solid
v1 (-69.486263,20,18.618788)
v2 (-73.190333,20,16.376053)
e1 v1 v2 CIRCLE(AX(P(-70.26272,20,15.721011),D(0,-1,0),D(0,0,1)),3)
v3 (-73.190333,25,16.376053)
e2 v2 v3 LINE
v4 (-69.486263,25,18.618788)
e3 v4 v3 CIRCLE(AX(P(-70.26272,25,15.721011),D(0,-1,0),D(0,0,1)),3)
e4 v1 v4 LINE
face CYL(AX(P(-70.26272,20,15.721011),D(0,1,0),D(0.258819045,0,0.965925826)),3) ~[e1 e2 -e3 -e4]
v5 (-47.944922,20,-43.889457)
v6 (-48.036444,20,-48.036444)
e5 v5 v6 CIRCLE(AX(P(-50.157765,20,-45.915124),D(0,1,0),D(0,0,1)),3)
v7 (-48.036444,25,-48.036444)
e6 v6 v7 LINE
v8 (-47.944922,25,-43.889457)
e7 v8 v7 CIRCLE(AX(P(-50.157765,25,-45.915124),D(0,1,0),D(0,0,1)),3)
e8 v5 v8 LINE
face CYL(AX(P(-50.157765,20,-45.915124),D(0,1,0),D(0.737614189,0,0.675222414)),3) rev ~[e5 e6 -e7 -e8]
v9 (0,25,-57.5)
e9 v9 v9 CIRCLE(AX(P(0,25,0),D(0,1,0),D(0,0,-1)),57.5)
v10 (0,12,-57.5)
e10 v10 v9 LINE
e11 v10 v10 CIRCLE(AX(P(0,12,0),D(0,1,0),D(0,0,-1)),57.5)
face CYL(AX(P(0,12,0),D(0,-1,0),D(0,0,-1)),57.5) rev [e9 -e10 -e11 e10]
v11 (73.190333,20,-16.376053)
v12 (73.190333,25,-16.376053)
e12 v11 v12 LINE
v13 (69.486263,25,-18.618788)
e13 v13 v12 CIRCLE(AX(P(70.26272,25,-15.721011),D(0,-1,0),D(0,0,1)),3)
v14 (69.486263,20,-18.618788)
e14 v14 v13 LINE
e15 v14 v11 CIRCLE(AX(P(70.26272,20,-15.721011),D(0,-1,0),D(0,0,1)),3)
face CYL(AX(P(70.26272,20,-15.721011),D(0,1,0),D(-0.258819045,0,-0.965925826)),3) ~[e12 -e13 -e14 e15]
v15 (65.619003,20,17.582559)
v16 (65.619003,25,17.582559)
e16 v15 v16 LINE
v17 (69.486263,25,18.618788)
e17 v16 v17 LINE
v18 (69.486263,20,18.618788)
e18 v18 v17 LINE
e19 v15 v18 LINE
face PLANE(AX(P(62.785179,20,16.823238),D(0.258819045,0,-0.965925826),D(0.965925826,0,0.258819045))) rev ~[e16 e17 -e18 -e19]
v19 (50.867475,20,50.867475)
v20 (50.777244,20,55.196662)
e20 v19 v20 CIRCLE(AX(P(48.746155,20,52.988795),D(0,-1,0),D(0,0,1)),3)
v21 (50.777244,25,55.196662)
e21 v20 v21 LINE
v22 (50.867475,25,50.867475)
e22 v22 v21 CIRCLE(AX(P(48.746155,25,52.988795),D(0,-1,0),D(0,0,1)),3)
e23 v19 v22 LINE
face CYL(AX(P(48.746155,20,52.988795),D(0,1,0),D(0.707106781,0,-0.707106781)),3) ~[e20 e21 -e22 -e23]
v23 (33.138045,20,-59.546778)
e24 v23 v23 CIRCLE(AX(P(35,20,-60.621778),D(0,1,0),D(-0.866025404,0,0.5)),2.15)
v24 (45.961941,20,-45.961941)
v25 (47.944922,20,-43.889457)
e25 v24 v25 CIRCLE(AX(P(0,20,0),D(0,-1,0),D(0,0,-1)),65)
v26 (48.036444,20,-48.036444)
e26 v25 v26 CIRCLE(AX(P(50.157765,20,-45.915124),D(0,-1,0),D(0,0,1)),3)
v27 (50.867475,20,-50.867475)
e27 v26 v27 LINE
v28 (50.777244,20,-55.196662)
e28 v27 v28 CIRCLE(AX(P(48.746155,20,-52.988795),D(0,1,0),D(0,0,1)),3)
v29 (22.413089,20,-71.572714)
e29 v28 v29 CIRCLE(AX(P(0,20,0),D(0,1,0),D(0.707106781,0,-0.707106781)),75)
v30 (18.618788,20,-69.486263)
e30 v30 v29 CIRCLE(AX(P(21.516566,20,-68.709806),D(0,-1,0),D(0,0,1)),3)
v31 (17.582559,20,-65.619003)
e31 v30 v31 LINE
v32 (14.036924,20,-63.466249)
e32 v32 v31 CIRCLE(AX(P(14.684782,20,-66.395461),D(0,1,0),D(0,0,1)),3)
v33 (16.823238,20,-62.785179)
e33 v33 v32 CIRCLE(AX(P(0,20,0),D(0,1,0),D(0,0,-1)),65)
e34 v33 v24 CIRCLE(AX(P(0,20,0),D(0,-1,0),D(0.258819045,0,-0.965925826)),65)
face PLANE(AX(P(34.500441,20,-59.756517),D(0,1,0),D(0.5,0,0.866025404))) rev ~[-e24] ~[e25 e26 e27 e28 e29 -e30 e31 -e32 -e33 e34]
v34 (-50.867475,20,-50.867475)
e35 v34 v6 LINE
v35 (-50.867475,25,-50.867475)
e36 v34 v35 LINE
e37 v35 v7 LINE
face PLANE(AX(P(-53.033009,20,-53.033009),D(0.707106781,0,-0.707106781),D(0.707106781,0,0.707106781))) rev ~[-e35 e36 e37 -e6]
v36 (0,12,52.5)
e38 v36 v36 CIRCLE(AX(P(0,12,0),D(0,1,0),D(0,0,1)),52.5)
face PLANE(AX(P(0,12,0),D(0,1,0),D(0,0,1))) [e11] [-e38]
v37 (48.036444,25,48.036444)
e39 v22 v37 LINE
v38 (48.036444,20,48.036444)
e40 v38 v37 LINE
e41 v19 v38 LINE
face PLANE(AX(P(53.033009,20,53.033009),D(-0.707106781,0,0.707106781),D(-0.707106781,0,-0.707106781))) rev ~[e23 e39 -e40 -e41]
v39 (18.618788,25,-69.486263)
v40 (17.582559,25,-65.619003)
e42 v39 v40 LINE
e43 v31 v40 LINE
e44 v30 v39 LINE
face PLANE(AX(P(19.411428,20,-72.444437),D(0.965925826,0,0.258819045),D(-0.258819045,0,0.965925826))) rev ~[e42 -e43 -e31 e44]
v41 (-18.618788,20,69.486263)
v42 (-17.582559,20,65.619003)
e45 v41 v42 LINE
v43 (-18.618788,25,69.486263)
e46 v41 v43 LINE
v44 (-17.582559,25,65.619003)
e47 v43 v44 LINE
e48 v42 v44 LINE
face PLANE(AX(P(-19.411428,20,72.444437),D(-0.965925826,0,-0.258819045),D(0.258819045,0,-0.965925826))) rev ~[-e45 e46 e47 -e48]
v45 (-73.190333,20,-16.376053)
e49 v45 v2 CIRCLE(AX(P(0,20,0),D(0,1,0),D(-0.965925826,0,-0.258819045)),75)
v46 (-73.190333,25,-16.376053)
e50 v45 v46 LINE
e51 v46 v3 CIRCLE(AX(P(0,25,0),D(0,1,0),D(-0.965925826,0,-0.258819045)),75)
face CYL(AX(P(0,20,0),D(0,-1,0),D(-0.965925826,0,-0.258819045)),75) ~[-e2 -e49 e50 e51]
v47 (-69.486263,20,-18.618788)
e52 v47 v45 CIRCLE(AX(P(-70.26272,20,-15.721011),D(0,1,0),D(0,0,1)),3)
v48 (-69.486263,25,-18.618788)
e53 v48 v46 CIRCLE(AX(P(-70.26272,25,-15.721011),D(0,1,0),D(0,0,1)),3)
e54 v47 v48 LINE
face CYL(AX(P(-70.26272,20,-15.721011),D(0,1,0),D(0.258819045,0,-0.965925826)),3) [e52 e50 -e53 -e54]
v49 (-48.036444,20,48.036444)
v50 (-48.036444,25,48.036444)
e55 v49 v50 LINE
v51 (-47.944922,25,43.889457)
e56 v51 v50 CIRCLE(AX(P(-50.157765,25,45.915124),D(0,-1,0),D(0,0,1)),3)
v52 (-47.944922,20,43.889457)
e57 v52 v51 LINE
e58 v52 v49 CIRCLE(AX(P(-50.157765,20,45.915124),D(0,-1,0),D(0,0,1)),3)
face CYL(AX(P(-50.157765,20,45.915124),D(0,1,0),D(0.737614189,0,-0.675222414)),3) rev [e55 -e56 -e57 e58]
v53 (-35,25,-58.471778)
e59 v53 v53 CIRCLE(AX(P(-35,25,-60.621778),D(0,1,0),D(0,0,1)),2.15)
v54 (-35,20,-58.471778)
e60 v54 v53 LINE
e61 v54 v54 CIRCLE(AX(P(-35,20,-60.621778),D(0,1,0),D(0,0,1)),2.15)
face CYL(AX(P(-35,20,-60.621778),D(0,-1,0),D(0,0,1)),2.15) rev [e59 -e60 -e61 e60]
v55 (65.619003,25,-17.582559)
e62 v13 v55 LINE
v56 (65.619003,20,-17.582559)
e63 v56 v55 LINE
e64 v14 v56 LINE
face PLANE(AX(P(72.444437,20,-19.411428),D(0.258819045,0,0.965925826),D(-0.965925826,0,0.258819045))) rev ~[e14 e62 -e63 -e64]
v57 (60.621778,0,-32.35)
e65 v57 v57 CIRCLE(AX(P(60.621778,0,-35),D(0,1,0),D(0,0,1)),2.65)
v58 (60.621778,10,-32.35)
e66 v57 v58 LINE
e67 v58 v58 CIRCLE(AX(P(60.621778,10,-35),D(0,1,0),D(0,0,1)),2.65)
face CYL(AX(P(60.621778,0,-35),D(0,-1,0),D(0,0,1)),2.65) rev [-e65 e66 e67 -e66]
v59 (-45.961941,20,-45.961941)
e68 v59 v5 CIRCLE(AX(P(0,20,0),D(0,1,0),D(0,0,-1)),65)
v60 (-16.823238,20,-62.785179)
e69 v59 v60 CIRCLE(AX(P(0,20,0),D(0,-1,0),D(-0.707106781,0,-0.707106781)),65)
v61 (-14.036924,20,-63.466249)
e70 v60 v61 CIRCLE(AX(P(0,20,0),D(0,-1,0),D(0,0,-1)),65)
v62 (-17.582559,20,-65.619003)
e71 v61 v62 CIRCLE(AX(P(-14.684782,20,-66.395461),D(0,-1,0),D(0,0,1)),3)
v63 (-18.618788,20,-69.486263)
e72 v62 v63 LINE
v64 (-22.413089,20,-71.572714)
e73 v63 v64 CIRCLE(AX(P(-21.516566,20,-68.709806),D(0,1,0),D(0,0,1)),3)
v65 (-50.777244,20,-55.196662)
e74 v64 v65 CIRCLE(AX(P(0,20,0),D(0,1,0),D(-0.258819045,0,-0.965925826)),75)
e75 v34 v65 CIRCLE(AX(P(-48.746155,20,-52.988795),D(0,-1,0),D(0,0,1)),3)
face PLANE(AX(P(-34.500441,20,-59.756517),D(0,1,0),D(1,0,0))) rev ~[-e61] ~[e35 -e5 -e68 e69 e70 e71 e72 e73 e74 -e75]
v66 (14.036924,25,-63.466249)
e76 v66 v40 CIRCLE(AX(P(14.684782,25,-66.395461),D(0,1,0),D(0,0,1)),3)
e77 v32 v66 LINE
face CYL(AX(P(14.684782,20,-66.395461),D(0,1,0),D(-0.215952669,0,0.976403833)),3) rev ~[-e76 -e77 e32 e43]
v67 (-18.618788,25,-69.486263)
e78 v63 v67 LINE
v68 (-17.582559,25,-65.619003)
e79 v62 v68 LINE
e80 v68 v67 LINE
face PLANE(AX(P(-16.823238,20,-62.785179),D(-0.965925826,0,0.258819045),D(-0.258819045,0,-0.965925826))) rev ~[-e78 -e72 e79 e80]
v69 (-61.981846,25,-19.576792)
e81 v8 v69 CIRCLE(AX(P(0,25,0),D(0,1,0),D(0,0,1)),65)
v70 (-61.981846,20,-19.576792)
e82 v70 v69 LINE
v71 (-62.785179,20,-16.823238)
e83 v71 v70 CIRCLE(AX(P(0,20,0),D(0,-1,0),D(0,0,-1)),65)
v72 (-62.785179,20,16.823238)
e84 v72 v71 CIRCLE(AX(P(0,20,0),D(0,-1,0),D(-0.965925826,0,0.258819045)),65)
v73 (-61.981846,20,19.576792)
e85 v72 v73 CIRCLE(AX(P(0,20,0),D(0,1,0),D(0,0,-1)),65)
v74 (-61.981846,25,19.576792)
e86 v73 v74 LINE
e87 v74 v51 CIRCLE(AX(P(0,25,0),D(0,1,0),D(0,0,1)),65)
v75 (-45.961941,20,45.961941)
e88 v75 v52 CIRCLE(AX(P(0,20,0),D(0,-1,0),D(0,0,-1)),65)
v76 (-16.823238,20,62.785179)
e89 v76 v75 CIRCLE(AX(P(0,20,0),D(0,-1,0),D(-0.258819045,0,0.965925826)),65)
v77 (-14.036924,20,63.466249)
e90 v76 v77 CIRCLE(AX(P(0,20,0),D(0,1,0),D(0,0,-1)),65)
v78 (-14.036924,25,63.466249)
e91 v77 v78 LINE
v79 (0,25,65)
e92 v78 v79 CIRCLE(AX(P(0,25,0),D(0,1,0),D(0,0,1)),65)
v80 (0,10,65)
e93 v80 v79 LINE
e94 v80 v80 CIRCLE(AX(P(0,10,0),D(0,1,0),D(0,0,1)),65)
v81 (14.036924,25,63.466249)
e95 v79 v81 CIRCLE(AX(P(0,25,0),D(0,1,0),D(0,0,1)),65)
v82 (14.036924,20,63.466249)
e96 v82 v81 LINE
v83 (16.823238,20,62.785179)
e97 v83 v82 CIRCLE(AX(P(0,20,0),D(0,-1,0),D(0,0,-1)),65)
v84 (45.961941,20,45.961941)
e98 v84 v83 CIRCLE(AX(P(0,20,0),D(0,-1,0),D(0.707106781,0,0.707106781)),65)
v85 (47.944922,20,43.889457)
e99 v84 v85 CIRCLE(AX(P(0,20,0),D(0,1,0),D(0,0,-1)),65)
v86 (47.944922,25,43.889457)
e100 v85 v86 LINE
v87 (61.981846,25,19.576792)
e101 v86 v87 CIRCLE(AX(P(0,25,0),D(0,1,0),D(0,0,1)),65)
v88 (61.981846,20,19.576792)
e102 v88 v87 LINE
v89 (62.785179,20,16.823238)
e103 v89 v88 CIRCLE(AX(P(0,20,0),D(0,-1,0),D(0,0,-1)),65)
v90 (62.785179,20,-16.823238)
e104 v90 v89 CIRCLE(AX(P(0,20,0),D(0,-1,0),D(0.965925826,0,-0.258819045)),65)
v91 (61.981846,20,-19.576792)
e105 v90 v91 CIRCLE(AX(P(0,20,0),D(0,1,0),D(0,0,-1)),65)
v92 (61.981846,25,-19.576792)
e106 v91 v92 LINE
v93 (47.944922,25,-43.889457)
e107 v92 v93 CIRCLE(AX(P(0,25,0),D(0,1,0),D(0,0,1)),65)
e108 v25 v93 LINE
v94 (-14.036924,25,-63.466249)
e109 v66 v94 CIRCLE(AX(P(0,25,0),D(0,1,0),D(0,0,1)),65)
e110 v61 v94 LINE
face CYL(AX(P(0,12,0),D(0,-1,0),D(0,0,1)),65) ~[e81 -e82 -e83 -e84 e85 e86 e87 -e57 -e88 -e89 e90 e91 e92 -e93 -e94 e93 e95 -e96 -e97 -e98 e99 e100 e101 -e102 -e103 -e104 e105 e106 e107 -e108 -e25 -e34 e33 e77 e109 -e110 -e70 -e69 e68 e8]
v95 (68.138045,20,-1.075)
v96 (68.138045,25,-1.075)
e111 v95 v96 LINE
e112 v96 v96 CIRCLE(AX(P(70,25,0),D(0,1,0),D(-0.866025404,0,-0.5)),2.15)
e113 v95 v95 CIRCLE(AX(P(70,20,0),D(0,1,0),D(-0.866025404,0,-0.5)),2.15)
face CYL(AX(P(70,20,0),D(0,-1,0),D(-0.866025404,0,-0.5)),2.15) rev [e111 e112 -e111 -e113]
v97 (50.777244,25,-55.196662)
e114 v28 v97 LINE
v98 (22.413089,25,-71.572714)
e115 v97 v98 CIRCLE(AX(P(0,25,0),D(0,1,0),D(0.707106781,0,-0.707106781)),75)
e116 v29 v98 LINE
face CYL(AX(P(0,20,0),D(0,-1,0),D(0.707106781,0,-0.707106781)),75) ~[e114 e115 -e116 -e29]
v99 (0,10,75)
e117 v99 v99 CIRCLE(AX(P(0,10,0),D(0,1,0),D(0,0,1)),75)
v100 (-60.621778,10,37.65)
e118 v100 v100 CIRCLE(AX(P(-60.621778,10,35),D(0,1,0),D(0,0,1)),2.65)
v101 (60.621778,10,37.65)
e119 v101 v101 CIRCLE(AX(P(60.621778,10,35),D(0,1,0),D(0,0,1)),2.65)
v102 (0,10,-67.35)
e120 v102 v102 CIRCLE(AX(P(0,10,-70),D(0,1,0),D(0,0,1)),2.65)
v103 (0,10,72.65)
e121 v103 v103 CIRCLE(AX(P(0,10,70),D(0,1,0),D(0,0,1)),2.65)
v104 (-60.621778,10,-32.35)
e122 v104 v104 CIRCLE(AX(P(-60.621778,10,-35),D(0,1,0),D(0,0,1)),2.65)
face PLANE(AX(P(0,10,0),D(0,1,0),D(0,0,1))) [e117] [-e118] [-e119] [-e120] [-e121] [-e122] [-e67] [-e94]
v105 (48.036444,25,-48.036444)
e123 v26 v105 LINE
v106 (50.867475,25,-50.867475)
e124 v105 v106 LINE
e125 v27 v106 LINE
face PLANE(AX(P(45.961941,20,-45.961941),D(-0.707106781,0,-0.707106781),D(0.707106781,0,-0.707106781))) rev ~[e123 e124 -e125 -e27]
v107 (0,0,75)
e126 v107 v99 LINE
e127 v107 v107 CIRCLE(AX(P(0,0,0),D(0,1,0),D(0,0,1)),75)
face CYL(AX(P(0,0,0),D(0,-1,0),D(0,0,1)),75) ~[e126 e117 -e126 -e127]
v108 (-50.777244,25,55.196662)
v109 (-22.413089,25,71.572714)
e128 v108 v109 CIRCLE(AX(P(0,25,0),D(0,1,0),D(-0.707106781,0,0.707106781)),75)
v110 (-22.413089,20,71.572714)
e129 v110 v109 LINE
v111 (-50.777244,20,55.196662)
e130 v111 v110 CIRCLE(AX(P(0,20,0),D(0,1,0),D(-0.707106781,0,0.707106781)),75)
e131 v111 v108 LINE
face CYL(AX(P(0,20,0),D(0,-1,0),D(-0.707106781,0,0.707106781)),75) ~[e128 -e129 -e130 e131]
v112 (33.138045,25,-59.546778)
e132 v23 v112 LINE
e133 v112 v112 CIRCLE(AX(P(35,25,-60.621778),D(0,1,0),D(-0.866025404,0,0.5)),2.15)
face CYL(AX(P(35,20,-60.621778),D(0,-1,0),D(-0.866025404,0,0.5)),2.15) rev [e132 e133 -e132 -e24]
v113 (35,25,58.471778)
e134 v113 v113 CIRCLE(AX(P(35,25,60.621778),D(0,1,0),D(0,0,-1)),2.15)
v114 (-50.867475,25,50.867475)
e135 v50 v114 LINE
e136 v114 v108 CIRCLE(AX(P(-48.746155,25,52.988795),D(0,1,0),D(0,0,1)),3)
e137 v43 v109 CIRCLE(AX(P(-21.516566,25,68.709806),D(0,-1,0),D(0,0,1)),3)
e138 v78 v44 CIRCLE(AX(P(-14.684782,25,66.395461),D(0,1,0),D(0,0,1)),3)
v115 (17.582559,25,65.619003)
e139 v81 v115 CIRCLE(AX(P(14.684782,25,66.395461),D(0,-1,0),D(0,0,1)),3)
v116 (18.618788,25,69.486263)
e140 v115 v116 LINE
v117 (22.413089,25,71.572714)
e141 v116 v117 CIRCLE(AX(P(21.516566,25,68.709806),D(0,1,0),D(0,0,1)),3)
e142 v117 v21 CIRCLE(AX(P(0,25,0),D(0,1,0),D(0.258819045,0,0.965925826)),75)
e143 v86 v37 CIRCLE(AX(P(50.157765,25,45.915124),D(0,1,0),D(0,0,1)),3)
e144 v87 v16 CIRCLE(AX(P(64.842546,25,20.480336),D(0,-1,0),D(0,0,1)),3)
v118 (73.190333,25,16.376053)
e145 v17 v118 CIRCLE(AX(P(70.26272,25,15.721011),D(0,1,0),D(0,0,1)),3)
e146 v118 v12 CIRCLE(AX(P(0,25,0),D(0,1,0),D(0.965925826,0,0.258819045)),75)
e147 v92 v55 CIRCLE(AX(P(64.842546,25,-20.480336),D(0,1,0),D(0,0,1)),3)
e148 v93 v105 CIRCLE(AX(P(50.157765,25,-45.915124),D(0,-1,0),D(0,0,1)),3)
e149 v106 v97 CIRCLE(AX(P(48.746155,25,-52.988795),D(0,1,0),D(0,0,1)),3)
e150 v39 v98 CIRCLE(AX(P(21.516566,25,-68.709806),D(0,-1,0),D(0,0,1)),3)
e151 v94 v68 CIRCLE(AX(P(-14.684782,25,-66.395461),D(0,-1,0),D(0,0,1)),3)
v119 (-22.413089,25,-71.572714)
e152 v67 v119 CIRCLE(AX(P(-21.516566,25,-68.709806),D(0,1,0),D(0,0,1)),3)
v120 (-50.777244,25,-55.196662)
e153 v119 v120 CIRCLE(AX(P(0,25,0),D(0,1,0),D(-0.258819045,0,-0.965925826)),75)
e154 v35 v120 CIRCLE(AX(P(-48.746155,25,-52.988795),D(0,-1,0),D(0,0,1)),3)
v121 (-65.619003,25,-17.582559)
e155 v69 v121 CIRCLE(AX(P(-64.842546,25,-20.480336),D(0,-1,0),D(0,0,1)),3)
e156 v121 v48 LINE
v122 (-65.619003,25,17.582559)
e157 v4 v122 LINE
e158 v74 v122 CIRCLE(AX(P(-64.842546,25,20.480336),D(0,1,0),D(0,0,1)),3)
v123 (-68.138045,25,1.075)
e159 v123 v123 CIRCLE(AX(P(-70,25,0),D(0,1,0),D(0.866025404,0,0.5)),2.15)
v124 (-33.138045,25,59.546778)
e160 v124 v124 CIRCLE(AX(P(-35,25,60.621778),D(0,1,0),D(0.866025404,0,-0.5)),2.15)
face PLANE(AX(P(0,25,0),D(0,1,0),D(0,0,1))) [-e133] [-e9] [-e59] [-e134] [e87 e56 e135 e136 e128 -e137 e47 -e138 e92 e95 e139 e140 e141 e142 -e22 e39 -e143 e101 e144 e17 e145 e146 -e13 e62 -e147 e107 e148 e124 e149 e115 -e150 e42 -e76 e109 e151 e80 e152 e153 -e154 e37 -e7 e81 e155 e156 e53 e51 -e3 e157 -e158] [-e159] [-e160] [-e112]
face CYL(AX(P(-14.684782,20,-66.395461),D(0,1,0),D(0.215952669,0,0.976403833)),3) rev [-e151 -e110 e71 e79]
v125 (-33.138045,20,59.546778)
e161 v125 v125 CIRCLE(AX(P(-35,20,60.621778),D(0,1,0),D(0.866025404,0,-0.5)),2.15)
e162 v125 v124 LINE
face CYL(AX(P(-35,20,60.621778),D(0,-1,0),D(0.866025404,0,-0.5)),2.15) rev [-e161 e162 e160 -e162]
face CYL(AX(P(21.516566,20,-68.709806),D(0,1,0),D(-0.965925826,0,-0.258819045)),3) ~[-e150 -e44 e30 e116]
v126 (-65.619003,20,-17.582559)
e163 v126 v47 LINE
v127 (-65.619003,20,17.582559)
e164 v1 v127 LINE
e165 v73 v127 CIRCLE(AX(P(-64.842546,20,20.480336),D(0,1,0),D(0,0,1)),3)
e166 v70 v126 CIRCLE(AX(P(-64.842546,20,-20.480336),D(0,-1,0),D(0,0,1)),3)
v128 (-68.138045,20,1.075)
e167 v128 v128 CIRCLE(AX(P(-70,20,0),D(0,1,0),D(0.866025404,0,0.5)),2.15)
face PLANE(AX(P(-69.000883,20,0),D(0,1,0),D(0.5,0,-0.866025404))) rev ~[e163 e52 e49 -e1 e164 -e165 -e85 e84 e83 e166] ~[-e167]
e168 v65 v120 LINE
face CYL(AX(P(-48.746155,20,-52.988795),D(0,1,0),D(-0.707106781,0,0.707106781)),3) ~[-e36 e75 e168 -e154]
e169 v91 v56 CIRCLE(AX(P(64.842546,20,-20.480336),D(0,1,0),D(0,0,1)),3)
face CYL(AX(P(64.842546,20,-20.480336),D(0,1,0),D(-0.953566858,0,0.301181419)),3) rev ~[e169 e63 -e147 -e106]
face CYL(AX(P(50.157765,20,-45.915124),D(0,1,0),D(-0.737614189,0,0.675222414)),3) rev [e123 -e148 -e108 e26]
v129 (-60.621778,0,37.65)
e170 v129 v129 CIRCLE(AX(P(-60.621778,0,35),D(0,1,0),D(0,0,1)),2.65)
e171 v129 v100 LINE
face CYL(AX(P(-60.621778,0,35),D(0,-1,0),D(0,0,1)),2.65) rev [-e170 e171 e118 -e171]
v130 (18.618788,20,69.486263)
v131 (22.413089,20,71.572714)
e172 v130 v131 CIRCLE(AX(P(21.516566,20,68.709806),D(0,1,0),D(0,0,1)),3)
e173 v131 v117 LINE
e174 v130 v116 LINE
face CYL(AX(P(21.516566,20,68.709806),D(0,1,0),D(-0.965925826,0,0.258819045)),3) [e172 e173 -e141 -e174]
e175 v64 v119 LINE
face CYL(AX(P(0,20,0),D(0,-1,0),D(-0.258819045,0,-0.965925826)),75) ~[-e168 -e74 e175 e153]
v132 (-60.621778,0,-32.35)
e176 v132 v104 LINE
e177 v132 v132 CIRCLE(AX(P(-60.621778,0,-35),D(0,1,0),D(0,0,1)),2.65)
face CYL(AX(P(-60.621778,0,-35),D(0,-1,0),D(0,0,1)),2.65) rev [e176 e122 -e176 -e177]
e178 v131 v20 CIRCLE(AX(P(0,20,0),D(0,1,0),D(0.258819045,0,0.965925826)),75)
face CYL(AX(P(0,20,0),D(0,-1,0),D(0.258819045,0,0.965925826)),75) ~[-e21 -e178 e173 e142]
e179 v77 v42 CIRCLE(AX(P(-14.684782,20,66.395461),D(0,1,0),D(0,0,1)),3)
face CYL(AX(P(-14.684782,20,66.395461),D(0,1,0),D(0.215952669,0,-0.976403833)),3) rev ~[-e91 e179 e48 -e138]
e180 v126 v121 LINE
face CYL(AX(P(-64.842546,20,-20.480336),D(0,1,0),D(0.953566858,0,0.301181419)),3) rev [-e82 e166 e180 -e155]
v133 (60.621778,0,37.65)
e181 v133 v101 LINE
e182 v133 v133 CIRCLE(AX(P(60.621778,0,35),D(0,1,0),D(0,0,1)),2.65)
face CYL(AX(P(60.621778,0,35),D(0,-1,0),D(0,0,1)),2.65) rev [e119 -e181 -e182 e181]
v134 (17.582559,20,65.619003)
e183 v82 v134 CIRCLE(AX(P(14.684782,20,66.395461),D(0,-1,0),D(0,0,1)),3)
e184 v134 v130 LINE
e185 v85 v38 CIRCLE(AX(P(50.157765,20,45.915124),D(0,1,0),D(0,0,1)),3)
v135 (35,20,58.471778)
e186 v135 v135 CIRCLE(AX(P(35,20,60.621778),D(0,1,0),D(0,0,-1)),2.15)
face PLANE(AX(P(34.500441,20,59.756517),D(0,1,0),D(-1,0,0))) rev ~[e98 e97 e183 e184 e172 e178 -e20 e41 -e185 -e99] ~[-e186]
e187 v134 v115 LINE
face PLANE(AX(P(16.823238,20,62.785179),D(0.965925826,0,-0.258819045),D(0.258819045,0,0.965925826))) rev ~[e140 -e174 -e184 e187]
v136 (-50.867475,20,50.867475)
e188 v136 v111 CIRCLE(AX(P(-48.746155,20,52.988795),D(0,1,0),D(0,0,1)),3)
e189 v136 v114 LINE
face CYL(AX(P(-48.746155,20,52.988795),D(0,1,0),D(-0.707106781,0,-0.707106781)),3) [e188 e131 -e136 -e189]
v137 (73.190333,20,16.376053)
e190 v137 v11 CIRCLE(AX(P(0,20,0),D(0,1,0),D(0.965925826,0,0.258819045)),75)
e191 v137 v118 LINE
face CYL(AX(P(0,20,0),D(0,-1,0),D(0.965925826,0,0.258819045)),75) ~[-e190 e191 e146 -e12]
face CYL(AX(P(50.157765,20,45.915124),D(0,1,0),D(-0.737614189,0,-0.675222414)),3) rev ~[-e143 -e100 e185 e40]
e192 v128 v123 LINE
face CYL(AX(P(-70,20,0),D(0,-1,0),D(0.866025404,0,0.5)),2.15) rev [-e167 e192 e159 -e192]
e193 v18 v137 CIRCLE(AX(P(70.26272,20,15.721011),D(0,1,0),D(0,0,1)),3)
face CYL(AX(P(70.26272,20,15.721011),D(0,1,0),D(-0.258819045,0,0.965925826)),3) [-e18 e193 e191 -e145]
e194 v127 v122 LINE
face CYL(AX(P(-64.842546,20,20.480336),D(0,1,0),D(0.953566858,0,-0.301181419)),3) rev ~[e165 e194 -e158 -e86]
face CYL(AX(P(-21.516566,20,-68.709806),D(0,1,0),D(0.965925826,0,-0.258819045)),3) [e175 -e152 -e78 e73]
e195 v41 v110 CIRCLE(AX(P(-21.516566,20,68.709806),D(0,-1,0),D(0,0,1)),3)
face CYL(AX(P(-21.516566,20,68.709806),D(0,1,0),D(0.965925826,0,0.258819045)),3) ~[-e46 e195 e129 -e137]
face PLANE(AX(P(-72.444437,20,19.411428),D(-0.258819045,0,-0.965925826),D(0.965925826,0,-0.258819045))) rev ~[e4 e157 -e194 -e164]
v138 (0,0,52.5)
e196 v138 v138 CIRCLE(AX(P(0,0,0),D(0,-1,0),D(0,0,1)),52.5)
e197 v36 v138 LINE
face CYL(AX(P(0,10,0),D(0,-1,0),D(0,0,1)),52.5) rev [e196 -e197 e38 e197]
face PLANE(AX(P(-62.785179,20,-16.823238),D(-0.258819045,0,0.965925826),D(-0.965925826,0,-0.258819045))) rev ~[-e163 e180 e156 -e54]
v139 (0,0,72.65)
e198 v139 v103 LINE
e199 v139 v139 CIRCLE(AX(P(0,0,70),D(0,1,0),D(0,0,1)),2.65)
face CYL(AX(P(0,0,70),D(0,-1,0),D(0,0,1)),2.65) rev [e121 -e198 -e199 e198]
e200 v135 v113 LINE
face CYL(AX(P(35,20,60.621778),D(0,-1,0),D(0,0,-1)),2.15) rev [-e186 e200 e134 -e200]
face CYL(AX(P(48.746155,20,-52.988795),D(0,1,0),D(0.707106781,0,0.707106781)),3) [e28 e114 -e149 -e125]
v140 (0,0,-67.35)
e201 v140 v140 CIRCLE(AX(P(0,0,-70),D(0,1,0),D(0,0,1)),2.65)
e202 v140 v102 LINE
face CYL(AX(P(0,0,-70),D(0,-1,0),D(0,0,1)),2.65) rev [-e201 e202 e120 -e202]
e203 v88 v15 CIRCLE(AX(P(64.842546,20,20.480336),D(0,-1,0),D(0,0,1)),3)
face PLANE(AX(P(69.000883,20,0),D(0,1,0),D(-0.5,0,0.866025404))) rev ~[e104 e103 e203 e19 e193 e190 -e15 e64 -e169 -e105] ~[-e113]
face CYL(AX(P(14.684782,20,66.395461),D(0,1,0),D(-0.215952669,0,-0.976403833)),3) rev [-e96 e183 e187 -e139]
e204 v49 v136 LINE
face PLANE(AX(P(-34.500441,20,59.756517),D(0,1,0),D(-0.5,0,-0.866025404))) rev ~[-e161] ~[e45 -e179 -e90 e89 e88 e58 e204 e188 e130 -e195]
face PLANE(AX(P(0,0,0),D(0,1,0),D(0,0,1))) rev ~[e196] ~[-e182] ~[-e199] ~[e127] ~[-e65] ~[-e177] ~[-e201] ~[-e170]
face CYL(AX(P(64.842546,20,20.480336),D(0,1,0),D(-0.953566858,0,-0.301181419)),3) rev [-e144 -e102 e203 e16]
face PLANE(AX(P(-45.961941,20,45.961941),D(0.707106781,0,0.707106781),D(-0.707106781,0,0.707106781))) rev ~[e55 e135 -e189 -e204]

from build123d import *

# Parameters (mm, degrees)
SKETCH_1_R               = 75
SKETCH_1_R_2             = 2.65
EXTRUDE_1_DEPTH          = 10
SKETCH_2_R               = 65
SKETCH_2_R_2             = 52.5
EXTRUDE_2_DEPTH          = 2
SKETCH_3_R               = 65
SKETCH_3_R_2             = 57.5
EXTRUDE_3_DEPTH          = 13
EXTRUDE_START            = -5
SKETCH_4_R               = 2.15
EXTRUDE_4_DEPTH          = 5
PATTERN_CIRCULAR_1_COUNT = 6
FILLET_1_R               = 3
CUT_EXTRUDE_START        = -80
SKETCH_6_R               = 52.5
CUT_EXTRUDE_1_DEPTH      = 80


with BuildPart() as part:
    # 草图1 → 凸台-拉伸1 (new body)
    with BuildSketch(Plane(origin=(0, 0, 0), x_dir=(1, 0, 0), z_dir=(0, 1, 0))):
        with Locations(Location((0, 0, 0), (0, 0, 270))):
            Circle(SKETCH_1_R)
        with Locations(Location((0, 70, 0), (0, 0, 270))):
            Circle(SKETCH_1_R_2, mode=Mode.SUBTRACT)
        with Locations(Location((60.621778265, 35, 0), (0, 0, 270))):
            Circle(SKETCH_1_R_2, mode=Mode.SUBTRACT)
        with Locations(Location((60.621778265, -35, 0), (0, 0, 270))):
            Circle(SKETCH_1_R_2, mode=Mode.SUBTRACT)
        with Locations(Location((0, -70, 0), (0, 0, 270))):
            Circle(SKETCH_1_R_2, mode=Mode.SUBTRACT)
        with Locations(Location((-60.621778265, -35, 0), (0, 0, 270))):
            Circle(SKETCH_1_R_2, mode=Mode.SUBTRACT)
        with Locations(Location((-60.621778265, 35, 0), (0, 0, 270))):
            Circle(SKETCH_1_R_2, mode=Mode.SUBTRACT)
    extrude(amount=EXTRUDE_1_DEPTH)

    # 草图2 → 凸台-拉伸2 (add)
    with BuildSketch(Plane(origin=(0, 10, 0), x_dir=(1, 0, 0), z_dir=(0, 1, 0))):
        with Locations(Location((0, 0, 0), (0, 0, 270))):
            Circle(SKETCH_2_R)
        with Locations(Location((0, 0, 0), (0, 0, 270))):
            Circle(SKETCH_2_R_2, mode=Mode.SUBTRACT)
    extrude(amount=EXTRUDE_2_DEPTH)

    # 草图3 → 凸台-拉伸3 (add)
    with BuildSketch(Plane(origin=(0, 12, 0), x_dir=(1, 0, 0), z_dir=(0, 1, 0))):
        with Locations(Location((0, 0, 0), (0, 0, 270))):
            Circle(SKETCH_3_R)
        with Locations(Location((0, 0, 0), (0, 0, 90))):
            Circle(SKETCH_3_R_2, mode=Mode.SUBTRACT)
    extrude(amount=EXTRUDE_3_DEPTH)

    # 草图4 → 凸台-拉伸4 (add)
    with BuildSketch(Plane(origin=(0, 25, 0), x_dir=(1, 0, 0), z_dir=(0, 1, 0)).offset(EXTRUDE_START)):
        with BuildLine():
            Line((-53.033008589, 53.033008589), (-45.961940777, 45.961940777))
            ThreePointArc((-45.961940777, 45.961940777), (-32.5, 56.291651246), (-16.823237932, 62.785178709))
            Line((-16.823237932, 62.785178709), (-19.411428383, 72.444436972))
            ThreePointArc((-19.411428383, 72.444436972), (-37.5, 64.951905284), (-53.033008589, 53.033008589))
        make_face()
        with Locations(Location((-35, 60.621778265, 0), (0, 0, 270))):
            Circle(SKETCH_4_R, mode=Mode.SUBTRACT)
    extrude_4 = extrude(amount=EXTRUDE_4_DEPTH)

    # 阵列(圆周)1: 凸台-拉伸4 ×6 about axis
    pattern_circular_1_axis = Axis((0, 0, 0), (0, 1, 0))
    for i in range(1, PATTERN_CIRCULAR_1_COUNT):
        add(extrude_4.rotate(pattern_circular_1_axis, i * 360 / PATTERN_CIRCULAR_1_COUNT))

    # 圆角1
    fillet_1_edges = [part.edges().sort_by_distance(p)[0] for p in [
        (62.785178709, 22.5, -16.823237932),
        (72.444436972, 22.5, -19.411428383),
        (72.444436972, 22.5, 19.411428383),
        (45.961940777, 22.5, -45.961940777),
        (16.823237932, 22.5, -62.785178709),
        (19.411428383, 22.5, -72.444436972),
        (53.033008589, 22.5, -53.033008589),
        (-16.823237932, 22.5, -62.785178709),
        (-45.961940777, 22.5, -45.961940777),
        (-53.033008589, 22.5, -53.033008589),
        (-19.411428383, 22.5, -72.444436972),
        (-62.785178709, 22.5, -16.823237932),
        (-62.785178709, 22.5, 16.823237932),
        (-72.444436972, 22.5, 19.411428383),
        (-72.444436972, 22.5, -19.411428383),
        (-45.961940777, 22.5, 45.961940777),
        (-16.823237932, 22.5, 62.785178709),
        (-19.411428383, 22.5, 72.444436972),
        (-53.033008589, 22.5, 53.033008589),
        (16.823237932, 22.5, 62.785178709),
        (45.961940777, 22.5, 45.961940777),
        (53.033008589, 22.5, 53.033008589),
        (19.411428383, 22.5, 72.444436972),
        (62.785178709, 22.5, 16.823237932),
    ]]
    fillet(fillet_1_edges, radius=FILLET_1_R)

    # 草图6 → 切除-拉伸1 (cut)
    with BuildSketch(Plane(origin=(0, 10, 0), x_dir=(1, 0, 0), z_dir=(0, 1, 0)).offset(CUT_EXTRUDE_START)):
        with Locations(Location((0, 0, 0), (0, 0, 270))):
            Circle(SKETCH_6_R)
    extrude(amount=CUT_EXTRUDE_1_DEPTH, mode=Mode.SUBTRACT)


solid = part.part
